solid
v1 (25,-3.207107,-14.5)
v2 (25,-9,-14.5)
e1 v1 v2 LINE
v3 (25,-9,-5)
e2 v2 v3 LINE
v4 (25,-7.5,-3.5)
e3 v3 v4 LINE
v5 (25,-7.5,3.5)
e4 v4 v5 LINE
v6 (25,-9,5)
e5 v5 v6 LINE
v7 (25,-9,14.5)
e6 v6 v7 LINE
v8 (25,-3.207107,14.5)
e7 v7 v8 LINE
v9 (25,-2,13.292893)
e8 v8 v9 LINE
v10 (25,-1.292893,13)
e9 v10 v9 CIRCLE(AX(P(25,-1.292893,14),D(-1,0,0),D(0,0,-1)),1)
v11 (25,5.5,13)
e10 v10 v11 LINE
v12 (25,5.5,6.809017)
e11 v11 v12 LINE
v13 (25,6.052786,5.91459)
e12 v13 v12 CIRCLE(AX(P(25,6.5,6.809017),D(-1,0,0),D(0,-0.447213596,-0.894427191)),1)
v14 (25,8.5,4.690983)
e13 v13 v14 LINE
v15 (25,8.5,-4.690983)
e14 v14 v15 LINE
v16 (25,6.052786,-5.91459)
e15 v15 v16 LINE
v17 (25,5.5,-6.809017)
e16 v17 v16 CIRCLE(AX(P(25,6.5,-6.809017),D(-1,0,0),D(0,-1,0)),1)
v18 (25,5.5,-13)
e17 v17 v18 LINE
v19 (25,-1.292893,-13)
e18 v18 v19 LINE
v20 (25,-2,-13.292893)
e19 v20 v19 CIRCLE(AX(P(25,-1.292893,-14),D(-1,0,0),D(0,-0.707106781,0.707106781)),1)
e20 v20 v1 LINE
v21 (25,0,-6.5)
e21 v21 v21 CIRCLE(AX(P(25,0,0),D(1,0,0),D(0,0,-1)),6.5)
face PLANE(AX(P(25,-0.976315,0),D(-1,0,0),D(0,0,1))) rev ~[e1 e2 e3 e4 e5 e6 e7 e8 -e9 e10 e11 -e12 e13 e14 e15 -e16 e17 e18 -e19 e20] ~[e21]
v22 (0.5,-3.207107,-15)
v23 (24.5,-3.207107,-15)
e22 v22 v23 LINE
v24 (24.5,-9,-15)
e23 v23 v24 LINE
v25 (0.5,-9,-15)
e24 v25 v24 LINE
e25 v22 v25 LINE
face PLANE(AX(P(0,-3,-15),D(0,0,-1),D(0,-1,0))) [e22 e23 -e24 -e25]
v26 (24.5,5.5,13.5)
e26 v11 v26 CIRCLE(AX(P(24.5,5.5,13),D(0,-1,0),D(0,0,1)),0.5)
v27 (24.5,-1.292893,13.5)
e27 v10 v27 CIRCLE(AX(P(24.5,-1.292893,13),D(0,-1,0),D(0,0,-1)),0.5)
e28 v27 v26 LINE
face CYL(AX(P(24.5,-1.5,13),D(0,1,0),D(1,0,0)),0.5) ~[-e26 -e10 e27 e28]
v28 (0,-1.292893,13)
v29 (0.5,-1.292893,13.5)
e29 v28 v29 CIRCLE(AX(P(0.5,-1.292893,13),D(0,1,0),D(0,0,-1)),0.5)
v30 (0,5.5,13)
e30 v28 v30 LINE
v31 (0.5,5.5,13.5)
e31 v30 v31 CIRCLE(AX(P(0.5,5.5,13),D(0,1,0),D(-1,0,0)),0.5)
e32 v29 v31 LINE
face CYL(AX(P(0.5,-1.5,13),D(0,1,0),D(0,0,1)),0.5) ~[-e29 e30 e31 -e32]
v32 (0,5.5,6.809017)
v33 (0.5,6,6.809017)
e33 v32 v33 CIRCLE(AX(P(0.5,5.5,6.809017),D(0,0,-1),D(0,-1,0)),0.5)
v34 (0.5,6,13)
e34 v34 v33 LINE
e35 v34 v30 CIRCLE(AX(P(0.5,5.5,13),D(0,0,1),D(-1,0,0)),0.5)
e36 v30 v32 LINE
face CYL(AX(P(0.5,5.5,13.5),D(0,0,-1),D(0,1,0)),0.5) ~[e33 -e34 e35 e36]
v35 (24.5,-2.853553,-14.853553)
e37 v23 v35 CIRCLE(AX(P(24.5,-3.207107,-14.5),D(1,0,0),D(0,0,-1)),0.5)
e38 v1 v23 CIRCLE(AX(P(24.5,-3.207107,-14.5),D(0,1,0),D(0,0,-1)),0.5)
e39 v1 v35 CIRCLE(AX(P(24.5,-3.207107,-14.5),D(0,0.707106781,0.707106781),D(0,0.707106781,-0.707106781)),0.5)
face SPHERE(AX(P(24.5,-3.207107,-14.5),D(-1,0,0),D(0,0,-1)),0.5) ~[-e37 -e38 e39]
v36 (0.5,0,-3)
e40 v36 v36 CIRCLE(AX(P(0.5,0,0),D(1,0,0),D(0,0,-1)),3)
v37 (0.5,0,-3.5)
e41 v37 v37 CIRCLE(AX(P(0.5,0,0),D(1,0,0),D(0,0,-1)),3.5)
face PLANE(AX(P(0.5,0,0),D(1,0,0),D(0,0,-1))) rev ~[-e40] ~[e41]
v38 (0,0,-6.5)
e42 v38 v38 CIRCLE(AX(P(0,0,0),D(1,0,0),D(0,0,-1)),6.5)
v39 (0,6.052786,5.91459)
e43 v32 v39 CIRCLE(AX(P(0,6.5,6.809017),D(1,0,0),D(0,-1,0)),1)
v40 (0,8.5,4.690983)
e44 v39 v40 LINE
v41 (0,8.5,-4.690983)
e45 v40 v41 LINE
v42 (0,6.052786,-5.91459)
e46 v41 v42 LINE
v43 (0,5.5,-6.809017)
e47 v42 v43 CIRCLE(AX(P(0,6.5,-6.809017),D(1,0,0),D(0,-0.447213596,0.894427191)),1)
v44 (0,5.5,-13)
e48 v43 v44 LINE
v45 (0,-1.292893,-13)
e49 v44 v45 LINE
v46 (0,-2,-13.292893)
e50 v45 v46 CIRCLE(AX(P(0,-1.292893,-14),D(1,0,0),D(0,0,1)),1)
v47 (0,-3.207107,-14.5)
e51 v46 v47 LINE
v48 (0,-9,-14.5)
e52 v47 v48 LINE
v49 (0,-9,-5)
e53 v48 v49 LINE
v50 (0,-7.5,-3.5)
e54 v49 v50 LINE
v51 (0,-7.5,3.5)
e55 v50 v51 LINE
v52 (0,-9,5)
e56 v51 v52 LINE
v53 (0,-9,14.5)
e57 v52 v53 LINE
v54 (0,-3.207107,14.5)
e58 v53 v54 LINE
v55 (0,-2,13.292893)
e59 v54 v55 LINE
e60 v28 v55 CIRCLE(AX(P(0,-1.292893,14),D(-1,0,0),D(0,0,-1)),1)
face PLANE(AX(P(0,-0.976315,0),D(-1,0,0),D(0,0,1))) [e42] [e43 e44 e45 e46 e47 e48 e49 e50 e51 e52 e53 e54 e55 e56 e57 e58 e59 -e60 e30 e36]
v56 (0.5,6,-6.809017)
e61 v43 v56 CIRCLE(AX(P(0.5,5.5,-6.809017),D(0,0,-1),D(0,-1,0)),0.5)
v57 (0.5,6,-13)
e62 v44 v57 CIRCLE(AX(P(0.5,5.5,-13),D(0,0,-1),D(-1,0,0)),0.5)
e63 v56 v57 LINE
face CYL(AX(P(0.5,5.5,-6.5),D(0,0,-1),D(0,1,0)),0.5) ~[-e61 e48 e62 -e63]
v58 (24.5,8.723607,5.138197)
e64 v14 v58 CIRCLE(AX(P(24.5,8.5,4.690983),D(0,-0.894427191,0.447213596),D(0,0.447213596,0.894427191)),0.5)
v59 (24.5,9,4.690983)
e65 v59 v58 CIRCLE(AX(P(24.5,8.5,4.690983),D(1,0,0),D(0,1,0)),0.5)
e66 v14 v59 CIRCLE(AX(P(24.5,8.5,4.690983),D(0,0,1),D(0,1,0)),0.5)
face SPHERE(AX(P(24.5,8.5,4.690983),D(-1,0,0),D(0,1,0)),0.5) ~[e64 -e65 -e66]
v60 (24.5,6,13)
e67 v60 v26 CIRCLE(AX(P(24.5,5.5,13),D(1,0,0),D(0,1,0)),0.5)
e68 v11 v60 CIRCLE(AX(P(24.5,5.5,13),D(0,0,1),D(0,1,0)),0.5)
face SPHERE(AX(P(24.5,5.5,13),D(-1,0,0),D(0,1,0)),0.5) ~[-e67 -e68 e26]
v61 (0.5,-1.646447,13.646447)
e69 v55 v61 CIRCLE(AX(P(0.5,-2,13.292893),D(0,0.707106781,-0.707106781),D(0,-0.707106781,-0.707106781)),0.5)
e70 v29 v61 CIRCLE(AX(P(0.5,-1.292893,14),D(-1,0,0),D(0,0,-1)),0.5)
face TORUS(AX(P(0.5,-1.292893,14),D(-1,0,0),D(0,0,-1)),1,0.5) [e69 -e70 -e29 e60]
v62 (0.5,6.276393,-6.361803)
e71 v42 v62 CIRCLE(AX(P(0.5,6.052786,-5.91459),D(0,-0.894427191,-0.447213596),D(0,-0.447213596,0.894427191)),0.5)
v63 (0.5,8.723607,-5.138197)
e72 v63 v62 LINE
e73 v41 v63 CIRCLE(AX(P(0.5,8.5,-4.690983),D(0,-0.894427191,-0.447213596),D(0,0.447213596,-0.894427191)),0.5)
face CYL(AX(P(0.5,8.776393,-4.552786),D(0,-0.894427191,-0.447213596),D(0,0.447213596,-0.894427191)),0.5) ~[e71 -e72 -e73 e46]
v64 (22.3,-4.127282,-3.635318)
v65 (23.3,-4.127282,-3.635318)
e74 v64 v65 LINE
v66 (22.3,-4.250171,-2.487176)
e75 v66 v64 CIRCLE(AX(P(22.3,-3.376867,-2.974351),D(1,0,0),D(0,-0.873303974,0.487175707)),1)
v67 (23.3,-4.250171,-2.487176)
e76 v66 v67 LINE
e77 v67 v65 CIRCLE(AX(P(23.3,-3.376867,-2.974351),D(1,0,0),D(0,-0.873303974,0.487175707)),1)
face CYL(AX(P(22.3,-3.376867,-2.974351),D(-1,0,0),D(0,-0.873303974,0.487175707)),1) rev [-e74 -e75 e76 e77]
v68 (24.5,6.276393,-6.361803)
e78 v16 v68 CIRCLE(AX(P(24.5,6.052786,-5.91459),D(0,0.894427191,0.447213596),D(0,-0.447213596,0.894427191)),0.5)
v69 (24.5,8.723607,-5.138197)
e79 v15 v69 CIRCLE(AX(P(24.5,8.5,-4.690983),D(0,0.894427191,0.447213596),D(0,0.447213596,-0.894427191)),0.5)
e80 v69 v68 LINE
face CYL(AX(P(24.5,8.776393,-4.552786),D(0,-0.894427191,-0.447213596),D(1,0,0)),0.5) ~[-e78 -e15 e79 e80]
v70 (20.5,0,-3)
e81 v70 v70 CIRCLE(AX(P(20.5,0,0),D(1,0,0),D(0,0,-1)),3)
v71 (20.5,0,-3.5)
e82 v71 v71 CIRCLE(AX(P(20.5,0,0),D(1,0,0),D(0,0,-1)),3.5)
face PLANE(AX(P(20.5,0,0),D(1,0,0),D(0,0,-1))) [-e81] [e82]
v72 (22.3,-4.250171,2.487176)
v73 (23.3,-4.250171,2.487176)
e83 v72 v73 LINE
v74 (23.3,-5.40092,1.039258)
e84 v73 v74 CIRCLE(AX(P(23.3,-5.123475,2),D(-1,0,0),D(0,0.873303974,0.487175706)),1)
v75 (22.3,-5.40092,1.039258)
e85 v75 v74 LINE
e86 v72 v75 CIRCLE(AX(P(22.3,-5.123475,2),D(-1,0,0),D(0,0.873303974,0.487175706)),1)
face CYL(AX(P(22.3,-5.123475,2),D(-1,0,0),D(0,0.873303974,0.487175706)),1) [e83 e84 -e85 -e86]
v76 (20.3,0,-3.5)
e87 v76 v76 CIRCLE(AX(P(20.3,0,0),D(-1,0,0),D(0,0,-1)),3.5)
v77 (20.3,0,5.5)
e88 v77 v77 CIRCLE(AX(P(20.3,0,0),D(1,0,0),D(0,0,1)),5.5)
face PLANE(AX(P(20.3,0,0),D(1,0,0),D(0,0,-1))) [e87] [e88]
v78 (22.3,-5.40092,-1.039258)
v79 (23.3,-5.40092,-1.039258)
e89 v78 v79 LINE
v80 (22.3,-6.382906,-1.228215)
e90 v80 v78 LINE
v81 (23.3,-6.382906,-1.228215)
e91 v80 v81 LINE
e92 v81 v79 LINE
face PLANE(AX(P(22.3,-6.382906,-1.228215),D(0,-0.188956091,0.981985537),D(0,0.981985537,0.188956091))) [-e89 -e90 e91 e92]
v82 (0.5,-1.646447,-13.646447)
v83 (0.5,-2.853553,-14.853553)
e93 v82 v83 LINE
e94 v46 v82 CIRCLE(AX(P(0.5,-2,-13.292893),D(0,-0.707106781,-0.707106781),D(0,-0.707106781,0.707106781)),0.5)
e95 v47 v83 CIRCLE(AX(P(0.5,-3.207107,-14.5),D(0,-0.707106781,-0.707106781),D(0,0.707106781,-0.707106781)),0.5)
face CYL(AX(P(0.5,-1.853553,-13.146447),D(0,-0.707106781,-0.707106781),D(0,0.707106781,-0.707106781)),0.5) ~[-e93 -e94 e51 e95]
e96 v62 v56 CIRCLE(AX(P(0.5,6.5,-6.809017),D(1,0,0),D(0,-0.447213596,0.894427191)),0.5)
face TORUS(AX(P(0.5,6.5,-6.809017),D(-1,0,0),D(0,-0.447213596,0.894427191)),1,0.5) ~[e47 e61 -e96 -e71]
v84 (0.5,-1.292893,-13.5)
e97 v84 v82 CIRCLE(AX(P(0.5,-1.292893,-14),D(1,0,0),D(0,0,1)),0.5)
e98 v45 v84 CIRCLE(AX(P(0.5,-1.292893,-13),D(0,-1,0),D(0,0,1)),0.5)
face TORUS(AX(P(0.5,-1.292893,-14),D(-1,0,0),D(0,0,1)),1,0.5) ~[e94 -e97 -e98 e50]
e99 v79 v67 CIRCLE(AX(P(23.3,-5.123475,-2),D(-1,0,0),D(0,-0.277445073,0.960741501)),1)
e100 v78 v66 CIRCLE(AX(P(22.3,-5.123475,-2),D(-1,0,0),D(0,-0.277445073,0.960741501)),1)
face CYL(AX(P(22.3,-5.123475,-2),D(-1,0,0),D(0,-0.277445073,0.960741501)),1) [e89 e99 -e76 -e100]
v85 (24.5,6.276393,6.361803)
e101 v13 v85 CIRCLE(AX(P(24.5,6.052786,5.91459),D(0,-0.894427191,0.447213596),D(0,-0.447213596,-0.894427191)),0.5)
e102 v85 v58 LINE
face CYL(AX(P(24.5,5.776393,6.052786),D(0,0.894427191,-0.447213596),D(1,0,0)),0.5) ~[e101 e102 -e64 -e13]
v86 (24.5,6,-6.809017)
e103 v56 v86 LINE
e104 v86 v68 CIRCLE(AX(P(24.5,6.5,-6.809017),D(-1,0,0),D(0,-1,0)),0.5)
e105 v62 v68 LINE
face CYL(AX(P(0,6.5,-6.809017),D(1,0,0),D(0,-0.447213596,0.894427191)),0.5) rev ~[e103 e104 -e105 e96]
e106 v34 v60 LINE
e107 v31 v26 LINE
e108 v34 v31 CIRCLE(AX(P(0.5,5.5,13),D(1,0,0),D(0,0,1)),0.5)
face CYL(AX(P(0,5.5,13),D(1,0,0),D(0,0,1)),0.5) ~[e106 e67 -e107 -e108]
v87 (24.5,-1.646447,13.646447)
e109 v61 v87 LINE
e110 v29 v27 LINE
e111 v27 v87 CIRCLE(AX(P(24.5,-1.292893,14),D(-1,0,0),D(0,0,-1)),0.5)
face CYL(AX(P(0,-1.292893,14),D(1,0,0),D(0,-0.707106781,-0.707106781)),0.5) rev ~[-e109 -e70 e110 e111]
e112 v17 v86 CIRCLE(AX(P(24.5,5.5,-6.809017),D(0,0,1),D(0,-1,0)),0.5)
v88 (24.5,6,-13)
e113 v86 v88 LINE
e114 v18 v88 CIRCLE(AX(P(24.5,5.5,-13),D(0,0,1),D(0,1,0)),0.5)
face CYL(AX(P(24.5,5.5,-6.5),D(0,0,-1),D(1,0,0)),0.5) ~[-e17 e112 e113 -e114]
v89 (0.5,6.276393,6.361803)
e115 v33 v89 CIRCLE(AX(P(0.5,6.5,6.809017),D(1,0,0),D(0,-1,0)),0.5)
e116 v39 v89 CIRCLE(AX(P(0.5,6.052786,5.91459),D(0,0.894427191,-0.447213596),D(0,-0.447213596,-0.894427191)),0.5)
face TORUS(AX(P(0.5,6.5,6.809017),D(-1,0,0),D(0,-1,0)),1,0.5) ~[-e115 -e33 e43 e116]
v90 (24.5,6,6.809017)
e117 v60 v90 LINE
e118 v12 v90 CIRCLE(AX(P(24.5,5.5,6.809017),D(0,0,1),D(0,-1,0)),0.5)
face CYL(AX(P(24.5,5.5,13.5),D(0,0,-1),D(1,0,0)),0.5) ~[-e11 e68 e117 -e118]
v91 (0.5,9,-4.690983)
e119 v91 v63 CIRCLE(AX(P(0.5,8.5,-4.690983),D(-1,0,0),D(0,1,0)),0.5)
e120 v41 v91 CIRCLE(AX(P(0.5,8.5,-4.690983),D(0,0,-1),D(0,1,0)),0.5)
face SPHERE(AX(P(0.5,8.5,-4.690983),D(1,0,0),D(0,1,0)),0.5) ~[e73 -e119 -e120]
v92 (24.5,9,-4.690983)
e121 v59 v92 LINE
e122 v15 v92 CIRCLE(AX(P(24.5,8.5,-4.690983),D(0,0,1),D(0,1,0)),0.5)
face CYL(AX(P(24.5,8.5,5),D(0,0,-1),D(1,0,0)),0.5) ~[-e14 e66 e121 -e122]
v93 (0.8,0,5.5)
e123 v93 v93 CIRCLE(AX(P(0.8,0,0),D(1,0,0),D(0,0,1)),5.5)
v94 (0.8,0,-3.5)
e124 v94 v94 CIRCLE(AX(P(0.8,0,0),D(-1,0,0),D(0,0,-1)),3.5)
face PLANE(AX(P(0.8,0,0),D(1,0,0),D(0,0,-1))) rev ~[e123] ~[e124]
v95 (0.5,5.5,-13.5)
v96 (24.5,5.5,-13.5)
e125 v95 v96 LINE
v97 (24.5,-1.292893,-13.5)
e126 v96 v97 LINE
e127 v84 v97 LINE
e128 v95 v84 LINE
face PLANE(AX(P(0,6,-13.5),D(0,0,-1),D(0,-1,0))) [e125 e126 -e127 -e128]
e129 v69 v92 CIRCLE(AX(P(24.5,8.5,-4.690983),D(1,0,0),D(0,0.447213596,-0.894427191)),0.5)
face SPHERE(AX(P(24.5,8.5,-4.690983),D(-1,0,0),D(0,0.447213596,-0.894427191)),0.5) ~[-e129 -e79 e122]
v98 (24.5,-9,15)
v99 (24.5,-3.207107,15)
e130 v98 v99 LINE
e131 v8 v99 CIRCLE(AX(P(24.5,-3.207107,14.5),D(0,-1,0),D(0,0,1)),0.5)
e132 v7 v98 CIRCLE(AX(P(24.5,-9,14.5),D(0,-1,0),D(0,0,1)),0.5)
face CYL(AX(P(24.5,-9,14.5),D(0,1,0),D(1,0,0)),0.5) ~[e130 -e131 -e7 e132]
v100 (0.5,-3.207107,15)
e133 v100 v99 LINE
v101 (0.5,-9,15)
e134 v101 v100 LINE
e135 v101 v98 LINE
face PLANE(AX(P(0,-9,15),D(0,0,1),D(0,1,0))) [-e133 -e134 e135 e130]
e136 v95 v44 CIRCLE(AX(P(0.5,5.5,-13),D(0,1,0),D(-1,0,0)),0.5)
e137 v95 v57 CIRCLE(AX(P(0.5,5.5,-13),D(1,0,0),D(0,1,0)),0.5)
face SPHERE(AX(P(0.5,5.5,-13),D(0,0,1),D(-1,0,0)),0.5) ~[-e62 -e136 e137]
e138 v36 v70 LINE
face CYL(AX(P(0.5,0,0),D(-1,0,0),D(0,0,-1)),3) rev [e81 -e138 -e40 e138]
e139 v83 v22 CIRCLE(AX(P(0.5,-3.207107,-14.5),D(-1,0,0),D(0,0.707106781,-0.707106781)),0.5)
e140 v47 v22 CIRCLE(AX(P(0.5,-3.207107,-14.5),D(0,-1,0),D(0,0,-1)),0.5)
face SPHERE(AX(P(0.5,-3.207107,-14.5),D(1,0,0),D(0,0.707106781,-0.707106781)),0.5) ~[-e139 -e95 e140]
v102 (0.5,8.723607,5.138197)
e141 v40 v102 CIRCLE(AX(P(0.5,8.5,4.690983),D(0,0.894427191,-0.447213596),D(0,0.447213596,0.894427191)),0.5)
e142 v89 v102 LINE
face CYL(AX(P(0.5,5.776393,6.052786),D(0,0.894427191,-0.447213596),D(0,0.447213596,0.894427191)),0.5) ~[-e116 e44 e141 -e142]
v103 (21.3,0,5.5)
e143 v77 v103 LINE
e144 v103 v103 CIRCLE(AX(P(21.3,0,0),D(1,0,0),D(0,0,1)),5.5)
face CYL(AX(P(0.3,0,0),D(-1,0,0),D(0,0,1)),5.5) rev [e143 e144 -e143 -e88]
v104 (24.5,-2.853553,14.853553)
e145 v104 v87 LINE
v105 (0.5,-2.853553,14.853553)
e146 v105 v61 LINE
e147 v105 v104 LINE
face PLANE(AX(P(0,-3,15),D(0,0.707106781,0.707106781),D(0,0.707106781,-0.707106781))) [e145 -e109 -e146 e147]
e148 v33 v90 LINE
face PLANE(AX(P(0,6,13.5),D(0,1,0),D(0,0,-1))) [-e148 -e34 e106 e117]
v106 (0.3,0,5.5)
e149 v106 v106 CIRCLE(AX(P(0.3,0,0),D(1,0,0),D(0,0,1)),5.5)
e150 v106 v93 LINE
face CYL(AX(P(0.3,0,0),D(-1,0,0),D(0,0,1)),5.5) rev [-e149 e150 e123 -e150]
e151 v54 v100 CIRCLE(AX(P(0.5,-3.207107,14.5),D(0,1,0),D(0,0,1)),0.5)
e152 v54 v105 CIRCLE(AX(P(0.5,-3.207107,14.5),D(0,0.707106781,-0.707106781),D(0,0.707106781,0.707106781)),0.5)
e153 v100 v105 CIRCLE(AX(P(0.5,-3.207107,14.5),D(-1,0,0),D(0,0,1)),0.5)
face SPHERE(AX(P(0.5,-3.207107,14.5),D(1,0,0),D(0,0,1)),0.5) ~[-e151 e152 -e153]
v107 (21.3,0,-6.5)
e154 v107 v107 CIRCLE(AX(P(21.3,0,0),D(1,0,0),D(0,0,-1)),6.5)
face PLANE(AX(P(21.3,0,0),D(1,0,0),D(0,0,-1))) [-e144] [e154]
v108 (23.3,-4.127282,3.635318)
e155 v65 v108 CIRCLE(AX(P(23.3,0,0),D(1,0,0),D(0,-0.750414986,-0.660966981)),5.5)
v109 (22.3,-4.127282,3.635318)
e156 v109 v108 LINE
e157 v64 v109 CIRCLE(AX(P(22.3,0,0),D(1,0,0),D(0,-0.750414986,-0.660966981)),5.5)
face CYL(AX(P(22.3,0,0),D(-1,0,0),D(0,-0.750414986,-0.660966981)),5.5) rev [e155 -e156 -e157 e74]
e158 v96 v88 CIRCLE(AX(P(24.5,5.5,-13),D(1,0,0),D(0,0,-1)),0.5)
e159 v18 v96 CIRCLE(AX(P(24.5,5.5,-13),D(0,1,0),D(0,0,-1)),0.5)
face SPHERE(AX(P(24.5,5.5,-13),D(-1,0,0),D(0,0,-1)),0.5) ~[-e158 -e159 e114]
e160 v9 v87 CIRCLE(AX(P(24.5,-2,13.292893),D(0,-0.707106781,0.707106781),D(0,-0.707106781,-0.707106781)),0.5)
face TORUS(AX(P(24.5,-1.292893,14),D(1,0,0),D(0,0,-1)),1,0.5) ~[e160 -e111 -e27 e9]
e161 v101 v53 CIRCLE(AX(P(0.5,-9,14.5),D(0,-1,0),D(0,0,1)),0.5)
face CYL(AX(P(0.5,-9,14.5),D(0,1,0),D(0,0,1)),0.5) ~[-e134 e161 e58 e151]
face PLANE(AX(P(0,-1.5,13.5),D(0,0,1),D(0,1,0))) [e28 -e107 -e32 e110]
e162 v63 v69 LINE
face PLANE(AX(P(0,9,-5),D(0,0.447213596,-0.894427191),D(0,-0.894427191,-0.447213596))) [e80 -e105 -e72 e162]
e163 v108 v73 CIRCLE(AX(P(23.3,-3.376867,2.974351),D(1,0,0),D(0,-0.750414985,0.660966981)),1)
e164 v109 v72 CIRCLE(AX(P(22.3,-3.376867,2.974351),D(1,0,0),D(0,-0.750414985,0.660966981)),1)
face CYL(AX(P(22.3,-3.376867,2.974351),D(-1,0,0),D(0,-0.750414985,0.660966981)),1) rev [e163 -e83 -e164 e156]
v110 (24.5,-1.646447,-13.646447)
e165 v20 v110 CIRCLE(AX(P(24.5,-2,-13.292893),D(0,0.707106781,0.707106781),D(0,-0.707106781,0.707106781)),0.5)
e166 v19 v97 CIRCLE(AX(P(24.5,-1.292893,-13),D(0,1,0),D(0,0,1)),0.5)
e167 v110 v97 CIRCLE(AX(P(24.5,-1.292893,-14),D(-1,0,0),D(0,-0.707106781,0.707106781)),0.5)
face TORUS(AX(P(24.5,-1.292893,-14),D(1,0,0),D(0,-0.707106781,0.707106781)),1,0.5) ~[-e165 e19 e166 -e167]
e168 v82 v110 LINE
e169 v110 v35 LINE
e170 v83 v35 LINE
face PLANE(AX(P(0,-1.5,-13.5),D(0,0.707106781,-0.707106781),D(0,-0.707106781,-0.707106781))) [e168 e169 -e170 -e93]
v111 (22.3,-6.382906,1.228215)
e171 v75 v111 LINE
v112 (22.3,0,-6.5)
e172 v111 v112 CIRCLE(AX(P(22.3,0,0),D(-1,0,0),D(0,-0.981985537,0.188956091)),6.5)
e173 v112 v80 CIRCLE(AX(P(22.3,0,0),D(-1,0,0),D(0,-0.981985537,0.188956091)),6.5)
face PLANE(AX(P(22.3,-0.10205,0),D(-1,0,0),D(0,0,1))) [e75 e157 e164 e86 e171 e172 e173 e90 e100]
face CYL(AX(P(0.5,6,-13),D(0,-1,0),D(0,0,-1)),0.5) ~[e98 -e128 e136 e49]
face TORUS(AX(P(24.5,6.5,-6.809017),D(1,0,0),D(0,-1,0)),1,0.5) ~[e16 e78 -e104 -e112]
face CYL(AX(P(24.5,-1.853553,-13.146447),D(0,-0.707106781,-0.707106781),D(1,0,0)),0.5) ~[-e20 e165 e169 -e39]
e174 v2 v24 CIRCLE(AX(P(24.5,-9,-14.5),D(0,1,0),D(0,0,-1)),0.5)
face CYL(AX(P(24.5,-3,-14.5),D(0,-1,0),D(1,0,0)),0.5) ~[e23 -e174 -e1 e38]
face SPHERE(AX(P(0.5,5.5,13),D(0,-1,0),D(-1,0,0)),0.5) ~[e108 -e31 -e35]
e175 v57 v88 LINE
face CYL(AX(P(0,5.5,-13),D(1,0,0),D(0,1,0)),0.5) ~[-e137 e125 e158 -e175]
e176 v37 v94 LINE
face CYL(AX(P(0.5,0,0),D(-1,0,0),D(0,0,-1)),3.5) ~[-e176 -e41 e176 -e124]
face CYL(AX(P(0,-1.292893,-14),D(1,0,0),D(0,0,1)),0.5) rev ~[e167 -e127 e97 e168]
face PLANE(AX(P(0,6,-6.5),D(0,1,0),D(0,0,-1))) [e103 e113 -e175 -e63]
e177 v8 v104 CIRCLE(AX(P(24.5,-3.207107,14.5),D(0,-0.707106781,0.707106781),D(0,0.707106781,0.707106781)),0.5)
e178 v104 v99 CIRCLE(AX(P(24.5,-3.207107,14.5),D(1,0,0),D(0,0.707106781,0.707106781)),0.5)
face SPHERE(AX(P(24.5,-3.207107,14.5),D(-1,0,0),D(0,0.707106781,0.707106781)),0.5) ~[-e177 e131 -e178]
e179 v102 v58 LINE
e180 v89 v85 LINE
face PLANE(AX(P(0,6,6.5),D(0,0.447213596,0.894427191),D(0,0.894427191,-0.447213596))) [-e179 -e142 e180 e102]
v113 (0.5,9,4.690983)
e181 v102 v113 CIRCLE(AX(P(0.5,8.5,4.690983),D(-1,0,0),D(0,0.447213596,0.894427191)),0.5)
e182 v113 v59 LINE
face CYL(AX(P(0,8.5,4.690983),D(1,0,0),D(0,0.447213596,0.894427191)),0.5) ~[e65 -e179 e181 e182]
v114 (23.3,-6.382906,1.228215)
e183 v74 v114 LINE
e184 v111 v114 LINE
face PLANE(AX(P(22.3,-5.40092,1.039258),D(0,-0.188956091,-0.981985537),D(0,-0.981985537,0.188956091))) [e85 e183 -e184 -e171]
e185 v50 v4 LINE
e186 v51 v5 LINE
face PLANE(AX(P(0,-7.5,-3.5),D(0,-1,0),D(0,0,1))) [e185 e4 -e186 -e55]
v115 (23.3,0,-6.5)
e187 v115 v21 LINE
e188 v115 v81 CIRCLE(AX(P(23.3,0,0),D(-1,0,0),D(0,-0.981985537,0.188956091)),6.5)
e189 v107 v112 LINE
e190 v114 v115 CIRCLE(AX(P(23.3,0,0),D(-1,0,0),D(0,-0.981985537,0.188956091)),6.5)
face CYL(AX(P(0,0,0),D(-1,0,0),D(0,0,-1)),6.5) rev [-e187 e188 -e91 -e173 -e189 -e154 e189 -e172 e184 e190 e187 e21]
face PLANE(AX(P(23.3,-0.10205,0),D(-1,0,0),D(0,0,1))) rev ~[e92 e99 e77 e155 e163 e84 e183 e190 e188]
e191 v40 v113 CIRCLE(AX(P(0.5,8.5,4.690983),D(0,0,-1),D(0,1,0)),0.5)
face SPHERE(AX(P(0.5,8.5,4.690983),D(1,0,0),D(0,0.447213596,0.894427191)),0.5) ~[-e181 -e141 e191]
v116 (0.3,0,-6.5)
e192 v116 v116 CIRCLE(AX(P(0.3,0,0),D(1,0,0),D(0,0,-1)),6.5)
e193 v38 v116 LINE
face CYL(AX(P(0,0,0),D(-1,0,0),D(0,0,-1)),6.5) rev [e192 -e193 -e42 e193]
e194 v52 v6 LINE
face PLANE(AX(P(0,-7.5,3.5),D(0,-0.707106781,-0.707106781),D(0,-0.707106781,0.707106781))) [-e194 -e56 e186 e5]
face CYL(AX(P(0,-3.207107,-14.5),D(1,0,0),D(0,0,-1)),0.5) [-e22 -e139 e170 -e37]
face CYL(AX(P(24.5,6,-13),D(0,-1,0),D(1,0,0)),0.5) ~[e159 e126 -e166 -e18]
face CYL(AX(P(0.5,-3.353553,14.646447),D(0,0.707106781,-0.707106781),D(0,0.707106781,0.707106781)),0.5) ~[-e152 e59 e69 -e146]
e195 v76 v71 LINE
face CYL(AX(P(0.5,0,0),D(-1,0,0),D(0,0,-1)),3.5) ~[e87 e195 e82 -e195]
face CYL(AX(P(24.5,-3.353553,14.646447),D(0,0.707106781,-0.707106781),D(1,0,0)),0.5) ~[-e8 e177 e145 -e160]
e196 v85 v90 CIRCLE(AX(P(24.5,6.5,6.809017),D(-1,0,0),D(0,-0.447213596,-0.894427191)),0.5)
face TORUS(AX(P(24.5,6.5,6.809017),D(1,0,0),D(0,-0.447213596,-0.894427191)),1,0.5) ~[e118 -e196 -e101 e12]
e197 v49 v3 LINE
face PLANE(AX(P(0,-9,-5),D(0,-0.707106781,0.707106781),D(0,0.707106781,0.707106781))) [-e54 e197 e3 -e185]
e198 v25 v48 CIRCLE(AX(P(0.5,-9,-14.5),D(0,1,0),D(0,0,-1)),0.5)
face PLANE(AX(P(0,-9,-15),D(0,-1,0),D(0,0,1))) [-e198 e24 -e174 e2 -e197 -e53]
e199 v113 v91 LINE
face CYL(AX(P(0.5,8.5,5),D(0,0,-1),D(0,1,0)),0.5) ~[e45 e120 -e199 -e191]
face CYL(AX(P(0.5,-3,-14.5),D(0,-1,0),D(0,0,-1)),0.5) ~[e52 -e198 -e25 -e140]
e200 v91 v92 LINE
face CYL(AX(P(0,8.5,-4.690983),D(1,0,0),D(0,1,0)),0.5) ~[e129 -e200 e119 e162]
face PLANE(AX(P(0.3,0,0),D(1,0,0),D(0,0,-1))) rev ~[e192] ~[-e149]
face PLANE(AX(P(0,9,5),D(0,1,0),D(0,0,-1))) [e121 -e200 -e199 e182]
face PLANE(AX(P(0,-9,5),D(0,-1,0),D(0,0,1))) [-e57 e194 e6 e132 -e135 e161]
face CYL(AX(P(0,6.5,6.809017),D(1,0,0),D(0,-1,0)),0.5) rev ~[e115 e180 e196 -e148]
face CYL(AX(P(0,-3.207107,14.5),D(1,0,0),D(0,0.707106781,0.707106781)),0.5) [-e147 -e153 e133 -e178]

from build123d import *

# Parameters (mm, degrees)
SKETCH1_R           = 6.5
BOSS_EXTRUDE1_DEPTH = 25
EXTRUDE_THIN1_START = 0.5
SKETCH1_4_R         = 3.5
SKETCH1_4_R_2       = 3
EXTRUDE_THIN1_DEPTH = 20
BOSS_EXTRUDE2_START = 0.8
SKETCH1_5_R         = 5.5
SKETCH1_5_R_2       = 3
BOSS_EXTRUDE2_DEPTH = 19.5
BOSS_EXTRUDE3_START = 0.3
SKETCH1_6_R         = 6.5
SKETCH1_6_R_2       = 5.5
BOSS_EXTRUDE3_DEPTH = 21
BOSS_EXTRUDE4_START = 1
BOSS_EXTRUDE4_DEPTH = 1
FILLET1_R           = 0.5


with BuildPart() as part:
    # Sketch1 → Boss-Extrude1 (new body)
    with BuildSketch(Plane(origin=(0, 0, 0), x_dir=(0, 0, -1), z_dir=(1, 0, 0))):
        Polygon((-15, -9), (-5, -9), (-3.5, -7.5), (3.5, -7.5), (5, -9), (15, -9), (15, -3), (13.5, -1.5), (13.5, 6), (6.5, 6), (5, 9), (-5, 9), (-6.5, 6), (-13.5, 6), (-13.5, -1.5), (-15, -3), align=None)
        Circle(SKETCH1_R, mode=Mode.SUBTRACT)
    extrude(amount=BOSS_EXTRUDE1_DEPTH)



with BuildPart() as body_2:
    # Sketch1<4> → Extrude-Thin1 (new body)
    with BuildSketch(Plane(origin=(0, 0, 0), x_dir=(0, 0, -1), z_dir=(1, 0, 0)).offset(EXTRUDE_THIN1_START)):
        Circle(SKETCH1_4_R)
        Circle(SKETCH1_4_R_2, mode=Mode.SUBTRACT)
    extrude(amount=EXTRUDE_THIN1_DEPTH)

    # Sketch1<5> → Boss-Extrude2 (add)
    with BuildSketch(Plane(origin=(0, 0, 0), x_dir=(0, 0, -1), z_dir=(1, 0, 0)).offset(BOSS_EXTRUDE2_START)):
        Circle(SKETCH1_5_R)
        Circle(SKETCH1_5_R_2, mode=Mode.SUBTRACT)
    extrude(amount=BOSS_EXTRUDE2_DEPTH)


with BuildPart() as part_1:
    add(part.part)

    add(body_2.part)  # Boss-Extrude3 merges body 2
    # Sketch1<6> → Boss-Extrude3 (add)
    with BuildSketch(Plane(origin=(0, 0, 0), x_dir=(0, 0, -1), z_dir=(1, 0, 0)).offset(BOSS_EXTRUDE3_START)):
        Circle(SKETCH1_6_R)
        Circle(SKETCH1_6_R_2, mode=Mode.SUBTRACT)
    extrude(amount=BOSS_EXTRUDE3_DEPTH)

    # Sketch3 → Boss-Extrude4 (add)
    with BuildSketch(Plane(origin=(21.3, 0, 0), x_dir=(0, 0, -1), z_dir=(1, 0, 0)).offset(BOSS_EXTRUDE4_START)):
        with BuildLine():
            Line((-1.039258499, -5.400920456), (-1.22821459, -6.382905993))
            ThreePointArc((-1.22821459, -6.382905993), (0, 6.5), (1.22821459, -6.382905993))
            Line((1.22821459, -6.382905993), (1.039258499, -5.400920456))
            ThreePointArc((1.039258499, -5.400920456), (1.377808725, -4.340610122), (2.487175706, -4.250171409))
            ThreePointArc((2.487175706, -4.250171409), (3.080776399, -4.371188169), (3.635318393, -4.12728242))
            ThreePointArc((3.635318393, -4.12728242), (0, 5.5), (-3.635318393, -4.12728242))
            ThreePointArc((-3.635318393, -4.12728242), (-3.080776399, -4.371188169), (-2.487175706, -4.250171409))
            ThreePointArc((-2.487175706, -4.250171409), (-1.377808725, -4.340610122), (-1.039258499, -5.400920456))
        make_face()
    extrude(amount=BOSS_EXTRUDE4_DEPTH)

    # Fillet1
    fillet1_edges = [part_1.edges().sort_by_distance(p)[0] for p in [
        (12.5, -1.5, -13.5),
        (12.5, -1.5, 13.5),
        (12.5, -3, 15),
        (12.5, -3, -15),
        (12.5, 6, -6.5),
        (12.5, 6, 6.5),
        (12.5, 9, 5),
        (12.5, 9, -5),
        (12.5, 6, -13.5),
        (12.5, 6, 13.5),
        (25, 7.5, -5.75),
        (25, 7.5, 5.75),
        (25, 2.25, 13.5),
        (0, -2.25, 14.25),
        (0, 7.5, 5.75),
        (25, -2.25, -14.25),
        (25, -6, -15),
        (25, 2.25, -13.5),
        (25, 9, 0),
        (25, 6, -10),
        (25, 6, 10),
        (25, -2.25, 14.25),
        (25, -6, 15),
        (0, -6, -15),
        (0, -2.25, -14.25),
        (0, 2.25, -13.5),
        (0, 7.5, -5.75),
        (0, 6, -10),
        (0, 9, 0),
        (0, -6, 15),
        (0, 2.25, 13.5),
        (0, 6, 10),
    ]]
    fillet(fillet1_edges, radius=FILLET1_R)


solid = part_1.part
